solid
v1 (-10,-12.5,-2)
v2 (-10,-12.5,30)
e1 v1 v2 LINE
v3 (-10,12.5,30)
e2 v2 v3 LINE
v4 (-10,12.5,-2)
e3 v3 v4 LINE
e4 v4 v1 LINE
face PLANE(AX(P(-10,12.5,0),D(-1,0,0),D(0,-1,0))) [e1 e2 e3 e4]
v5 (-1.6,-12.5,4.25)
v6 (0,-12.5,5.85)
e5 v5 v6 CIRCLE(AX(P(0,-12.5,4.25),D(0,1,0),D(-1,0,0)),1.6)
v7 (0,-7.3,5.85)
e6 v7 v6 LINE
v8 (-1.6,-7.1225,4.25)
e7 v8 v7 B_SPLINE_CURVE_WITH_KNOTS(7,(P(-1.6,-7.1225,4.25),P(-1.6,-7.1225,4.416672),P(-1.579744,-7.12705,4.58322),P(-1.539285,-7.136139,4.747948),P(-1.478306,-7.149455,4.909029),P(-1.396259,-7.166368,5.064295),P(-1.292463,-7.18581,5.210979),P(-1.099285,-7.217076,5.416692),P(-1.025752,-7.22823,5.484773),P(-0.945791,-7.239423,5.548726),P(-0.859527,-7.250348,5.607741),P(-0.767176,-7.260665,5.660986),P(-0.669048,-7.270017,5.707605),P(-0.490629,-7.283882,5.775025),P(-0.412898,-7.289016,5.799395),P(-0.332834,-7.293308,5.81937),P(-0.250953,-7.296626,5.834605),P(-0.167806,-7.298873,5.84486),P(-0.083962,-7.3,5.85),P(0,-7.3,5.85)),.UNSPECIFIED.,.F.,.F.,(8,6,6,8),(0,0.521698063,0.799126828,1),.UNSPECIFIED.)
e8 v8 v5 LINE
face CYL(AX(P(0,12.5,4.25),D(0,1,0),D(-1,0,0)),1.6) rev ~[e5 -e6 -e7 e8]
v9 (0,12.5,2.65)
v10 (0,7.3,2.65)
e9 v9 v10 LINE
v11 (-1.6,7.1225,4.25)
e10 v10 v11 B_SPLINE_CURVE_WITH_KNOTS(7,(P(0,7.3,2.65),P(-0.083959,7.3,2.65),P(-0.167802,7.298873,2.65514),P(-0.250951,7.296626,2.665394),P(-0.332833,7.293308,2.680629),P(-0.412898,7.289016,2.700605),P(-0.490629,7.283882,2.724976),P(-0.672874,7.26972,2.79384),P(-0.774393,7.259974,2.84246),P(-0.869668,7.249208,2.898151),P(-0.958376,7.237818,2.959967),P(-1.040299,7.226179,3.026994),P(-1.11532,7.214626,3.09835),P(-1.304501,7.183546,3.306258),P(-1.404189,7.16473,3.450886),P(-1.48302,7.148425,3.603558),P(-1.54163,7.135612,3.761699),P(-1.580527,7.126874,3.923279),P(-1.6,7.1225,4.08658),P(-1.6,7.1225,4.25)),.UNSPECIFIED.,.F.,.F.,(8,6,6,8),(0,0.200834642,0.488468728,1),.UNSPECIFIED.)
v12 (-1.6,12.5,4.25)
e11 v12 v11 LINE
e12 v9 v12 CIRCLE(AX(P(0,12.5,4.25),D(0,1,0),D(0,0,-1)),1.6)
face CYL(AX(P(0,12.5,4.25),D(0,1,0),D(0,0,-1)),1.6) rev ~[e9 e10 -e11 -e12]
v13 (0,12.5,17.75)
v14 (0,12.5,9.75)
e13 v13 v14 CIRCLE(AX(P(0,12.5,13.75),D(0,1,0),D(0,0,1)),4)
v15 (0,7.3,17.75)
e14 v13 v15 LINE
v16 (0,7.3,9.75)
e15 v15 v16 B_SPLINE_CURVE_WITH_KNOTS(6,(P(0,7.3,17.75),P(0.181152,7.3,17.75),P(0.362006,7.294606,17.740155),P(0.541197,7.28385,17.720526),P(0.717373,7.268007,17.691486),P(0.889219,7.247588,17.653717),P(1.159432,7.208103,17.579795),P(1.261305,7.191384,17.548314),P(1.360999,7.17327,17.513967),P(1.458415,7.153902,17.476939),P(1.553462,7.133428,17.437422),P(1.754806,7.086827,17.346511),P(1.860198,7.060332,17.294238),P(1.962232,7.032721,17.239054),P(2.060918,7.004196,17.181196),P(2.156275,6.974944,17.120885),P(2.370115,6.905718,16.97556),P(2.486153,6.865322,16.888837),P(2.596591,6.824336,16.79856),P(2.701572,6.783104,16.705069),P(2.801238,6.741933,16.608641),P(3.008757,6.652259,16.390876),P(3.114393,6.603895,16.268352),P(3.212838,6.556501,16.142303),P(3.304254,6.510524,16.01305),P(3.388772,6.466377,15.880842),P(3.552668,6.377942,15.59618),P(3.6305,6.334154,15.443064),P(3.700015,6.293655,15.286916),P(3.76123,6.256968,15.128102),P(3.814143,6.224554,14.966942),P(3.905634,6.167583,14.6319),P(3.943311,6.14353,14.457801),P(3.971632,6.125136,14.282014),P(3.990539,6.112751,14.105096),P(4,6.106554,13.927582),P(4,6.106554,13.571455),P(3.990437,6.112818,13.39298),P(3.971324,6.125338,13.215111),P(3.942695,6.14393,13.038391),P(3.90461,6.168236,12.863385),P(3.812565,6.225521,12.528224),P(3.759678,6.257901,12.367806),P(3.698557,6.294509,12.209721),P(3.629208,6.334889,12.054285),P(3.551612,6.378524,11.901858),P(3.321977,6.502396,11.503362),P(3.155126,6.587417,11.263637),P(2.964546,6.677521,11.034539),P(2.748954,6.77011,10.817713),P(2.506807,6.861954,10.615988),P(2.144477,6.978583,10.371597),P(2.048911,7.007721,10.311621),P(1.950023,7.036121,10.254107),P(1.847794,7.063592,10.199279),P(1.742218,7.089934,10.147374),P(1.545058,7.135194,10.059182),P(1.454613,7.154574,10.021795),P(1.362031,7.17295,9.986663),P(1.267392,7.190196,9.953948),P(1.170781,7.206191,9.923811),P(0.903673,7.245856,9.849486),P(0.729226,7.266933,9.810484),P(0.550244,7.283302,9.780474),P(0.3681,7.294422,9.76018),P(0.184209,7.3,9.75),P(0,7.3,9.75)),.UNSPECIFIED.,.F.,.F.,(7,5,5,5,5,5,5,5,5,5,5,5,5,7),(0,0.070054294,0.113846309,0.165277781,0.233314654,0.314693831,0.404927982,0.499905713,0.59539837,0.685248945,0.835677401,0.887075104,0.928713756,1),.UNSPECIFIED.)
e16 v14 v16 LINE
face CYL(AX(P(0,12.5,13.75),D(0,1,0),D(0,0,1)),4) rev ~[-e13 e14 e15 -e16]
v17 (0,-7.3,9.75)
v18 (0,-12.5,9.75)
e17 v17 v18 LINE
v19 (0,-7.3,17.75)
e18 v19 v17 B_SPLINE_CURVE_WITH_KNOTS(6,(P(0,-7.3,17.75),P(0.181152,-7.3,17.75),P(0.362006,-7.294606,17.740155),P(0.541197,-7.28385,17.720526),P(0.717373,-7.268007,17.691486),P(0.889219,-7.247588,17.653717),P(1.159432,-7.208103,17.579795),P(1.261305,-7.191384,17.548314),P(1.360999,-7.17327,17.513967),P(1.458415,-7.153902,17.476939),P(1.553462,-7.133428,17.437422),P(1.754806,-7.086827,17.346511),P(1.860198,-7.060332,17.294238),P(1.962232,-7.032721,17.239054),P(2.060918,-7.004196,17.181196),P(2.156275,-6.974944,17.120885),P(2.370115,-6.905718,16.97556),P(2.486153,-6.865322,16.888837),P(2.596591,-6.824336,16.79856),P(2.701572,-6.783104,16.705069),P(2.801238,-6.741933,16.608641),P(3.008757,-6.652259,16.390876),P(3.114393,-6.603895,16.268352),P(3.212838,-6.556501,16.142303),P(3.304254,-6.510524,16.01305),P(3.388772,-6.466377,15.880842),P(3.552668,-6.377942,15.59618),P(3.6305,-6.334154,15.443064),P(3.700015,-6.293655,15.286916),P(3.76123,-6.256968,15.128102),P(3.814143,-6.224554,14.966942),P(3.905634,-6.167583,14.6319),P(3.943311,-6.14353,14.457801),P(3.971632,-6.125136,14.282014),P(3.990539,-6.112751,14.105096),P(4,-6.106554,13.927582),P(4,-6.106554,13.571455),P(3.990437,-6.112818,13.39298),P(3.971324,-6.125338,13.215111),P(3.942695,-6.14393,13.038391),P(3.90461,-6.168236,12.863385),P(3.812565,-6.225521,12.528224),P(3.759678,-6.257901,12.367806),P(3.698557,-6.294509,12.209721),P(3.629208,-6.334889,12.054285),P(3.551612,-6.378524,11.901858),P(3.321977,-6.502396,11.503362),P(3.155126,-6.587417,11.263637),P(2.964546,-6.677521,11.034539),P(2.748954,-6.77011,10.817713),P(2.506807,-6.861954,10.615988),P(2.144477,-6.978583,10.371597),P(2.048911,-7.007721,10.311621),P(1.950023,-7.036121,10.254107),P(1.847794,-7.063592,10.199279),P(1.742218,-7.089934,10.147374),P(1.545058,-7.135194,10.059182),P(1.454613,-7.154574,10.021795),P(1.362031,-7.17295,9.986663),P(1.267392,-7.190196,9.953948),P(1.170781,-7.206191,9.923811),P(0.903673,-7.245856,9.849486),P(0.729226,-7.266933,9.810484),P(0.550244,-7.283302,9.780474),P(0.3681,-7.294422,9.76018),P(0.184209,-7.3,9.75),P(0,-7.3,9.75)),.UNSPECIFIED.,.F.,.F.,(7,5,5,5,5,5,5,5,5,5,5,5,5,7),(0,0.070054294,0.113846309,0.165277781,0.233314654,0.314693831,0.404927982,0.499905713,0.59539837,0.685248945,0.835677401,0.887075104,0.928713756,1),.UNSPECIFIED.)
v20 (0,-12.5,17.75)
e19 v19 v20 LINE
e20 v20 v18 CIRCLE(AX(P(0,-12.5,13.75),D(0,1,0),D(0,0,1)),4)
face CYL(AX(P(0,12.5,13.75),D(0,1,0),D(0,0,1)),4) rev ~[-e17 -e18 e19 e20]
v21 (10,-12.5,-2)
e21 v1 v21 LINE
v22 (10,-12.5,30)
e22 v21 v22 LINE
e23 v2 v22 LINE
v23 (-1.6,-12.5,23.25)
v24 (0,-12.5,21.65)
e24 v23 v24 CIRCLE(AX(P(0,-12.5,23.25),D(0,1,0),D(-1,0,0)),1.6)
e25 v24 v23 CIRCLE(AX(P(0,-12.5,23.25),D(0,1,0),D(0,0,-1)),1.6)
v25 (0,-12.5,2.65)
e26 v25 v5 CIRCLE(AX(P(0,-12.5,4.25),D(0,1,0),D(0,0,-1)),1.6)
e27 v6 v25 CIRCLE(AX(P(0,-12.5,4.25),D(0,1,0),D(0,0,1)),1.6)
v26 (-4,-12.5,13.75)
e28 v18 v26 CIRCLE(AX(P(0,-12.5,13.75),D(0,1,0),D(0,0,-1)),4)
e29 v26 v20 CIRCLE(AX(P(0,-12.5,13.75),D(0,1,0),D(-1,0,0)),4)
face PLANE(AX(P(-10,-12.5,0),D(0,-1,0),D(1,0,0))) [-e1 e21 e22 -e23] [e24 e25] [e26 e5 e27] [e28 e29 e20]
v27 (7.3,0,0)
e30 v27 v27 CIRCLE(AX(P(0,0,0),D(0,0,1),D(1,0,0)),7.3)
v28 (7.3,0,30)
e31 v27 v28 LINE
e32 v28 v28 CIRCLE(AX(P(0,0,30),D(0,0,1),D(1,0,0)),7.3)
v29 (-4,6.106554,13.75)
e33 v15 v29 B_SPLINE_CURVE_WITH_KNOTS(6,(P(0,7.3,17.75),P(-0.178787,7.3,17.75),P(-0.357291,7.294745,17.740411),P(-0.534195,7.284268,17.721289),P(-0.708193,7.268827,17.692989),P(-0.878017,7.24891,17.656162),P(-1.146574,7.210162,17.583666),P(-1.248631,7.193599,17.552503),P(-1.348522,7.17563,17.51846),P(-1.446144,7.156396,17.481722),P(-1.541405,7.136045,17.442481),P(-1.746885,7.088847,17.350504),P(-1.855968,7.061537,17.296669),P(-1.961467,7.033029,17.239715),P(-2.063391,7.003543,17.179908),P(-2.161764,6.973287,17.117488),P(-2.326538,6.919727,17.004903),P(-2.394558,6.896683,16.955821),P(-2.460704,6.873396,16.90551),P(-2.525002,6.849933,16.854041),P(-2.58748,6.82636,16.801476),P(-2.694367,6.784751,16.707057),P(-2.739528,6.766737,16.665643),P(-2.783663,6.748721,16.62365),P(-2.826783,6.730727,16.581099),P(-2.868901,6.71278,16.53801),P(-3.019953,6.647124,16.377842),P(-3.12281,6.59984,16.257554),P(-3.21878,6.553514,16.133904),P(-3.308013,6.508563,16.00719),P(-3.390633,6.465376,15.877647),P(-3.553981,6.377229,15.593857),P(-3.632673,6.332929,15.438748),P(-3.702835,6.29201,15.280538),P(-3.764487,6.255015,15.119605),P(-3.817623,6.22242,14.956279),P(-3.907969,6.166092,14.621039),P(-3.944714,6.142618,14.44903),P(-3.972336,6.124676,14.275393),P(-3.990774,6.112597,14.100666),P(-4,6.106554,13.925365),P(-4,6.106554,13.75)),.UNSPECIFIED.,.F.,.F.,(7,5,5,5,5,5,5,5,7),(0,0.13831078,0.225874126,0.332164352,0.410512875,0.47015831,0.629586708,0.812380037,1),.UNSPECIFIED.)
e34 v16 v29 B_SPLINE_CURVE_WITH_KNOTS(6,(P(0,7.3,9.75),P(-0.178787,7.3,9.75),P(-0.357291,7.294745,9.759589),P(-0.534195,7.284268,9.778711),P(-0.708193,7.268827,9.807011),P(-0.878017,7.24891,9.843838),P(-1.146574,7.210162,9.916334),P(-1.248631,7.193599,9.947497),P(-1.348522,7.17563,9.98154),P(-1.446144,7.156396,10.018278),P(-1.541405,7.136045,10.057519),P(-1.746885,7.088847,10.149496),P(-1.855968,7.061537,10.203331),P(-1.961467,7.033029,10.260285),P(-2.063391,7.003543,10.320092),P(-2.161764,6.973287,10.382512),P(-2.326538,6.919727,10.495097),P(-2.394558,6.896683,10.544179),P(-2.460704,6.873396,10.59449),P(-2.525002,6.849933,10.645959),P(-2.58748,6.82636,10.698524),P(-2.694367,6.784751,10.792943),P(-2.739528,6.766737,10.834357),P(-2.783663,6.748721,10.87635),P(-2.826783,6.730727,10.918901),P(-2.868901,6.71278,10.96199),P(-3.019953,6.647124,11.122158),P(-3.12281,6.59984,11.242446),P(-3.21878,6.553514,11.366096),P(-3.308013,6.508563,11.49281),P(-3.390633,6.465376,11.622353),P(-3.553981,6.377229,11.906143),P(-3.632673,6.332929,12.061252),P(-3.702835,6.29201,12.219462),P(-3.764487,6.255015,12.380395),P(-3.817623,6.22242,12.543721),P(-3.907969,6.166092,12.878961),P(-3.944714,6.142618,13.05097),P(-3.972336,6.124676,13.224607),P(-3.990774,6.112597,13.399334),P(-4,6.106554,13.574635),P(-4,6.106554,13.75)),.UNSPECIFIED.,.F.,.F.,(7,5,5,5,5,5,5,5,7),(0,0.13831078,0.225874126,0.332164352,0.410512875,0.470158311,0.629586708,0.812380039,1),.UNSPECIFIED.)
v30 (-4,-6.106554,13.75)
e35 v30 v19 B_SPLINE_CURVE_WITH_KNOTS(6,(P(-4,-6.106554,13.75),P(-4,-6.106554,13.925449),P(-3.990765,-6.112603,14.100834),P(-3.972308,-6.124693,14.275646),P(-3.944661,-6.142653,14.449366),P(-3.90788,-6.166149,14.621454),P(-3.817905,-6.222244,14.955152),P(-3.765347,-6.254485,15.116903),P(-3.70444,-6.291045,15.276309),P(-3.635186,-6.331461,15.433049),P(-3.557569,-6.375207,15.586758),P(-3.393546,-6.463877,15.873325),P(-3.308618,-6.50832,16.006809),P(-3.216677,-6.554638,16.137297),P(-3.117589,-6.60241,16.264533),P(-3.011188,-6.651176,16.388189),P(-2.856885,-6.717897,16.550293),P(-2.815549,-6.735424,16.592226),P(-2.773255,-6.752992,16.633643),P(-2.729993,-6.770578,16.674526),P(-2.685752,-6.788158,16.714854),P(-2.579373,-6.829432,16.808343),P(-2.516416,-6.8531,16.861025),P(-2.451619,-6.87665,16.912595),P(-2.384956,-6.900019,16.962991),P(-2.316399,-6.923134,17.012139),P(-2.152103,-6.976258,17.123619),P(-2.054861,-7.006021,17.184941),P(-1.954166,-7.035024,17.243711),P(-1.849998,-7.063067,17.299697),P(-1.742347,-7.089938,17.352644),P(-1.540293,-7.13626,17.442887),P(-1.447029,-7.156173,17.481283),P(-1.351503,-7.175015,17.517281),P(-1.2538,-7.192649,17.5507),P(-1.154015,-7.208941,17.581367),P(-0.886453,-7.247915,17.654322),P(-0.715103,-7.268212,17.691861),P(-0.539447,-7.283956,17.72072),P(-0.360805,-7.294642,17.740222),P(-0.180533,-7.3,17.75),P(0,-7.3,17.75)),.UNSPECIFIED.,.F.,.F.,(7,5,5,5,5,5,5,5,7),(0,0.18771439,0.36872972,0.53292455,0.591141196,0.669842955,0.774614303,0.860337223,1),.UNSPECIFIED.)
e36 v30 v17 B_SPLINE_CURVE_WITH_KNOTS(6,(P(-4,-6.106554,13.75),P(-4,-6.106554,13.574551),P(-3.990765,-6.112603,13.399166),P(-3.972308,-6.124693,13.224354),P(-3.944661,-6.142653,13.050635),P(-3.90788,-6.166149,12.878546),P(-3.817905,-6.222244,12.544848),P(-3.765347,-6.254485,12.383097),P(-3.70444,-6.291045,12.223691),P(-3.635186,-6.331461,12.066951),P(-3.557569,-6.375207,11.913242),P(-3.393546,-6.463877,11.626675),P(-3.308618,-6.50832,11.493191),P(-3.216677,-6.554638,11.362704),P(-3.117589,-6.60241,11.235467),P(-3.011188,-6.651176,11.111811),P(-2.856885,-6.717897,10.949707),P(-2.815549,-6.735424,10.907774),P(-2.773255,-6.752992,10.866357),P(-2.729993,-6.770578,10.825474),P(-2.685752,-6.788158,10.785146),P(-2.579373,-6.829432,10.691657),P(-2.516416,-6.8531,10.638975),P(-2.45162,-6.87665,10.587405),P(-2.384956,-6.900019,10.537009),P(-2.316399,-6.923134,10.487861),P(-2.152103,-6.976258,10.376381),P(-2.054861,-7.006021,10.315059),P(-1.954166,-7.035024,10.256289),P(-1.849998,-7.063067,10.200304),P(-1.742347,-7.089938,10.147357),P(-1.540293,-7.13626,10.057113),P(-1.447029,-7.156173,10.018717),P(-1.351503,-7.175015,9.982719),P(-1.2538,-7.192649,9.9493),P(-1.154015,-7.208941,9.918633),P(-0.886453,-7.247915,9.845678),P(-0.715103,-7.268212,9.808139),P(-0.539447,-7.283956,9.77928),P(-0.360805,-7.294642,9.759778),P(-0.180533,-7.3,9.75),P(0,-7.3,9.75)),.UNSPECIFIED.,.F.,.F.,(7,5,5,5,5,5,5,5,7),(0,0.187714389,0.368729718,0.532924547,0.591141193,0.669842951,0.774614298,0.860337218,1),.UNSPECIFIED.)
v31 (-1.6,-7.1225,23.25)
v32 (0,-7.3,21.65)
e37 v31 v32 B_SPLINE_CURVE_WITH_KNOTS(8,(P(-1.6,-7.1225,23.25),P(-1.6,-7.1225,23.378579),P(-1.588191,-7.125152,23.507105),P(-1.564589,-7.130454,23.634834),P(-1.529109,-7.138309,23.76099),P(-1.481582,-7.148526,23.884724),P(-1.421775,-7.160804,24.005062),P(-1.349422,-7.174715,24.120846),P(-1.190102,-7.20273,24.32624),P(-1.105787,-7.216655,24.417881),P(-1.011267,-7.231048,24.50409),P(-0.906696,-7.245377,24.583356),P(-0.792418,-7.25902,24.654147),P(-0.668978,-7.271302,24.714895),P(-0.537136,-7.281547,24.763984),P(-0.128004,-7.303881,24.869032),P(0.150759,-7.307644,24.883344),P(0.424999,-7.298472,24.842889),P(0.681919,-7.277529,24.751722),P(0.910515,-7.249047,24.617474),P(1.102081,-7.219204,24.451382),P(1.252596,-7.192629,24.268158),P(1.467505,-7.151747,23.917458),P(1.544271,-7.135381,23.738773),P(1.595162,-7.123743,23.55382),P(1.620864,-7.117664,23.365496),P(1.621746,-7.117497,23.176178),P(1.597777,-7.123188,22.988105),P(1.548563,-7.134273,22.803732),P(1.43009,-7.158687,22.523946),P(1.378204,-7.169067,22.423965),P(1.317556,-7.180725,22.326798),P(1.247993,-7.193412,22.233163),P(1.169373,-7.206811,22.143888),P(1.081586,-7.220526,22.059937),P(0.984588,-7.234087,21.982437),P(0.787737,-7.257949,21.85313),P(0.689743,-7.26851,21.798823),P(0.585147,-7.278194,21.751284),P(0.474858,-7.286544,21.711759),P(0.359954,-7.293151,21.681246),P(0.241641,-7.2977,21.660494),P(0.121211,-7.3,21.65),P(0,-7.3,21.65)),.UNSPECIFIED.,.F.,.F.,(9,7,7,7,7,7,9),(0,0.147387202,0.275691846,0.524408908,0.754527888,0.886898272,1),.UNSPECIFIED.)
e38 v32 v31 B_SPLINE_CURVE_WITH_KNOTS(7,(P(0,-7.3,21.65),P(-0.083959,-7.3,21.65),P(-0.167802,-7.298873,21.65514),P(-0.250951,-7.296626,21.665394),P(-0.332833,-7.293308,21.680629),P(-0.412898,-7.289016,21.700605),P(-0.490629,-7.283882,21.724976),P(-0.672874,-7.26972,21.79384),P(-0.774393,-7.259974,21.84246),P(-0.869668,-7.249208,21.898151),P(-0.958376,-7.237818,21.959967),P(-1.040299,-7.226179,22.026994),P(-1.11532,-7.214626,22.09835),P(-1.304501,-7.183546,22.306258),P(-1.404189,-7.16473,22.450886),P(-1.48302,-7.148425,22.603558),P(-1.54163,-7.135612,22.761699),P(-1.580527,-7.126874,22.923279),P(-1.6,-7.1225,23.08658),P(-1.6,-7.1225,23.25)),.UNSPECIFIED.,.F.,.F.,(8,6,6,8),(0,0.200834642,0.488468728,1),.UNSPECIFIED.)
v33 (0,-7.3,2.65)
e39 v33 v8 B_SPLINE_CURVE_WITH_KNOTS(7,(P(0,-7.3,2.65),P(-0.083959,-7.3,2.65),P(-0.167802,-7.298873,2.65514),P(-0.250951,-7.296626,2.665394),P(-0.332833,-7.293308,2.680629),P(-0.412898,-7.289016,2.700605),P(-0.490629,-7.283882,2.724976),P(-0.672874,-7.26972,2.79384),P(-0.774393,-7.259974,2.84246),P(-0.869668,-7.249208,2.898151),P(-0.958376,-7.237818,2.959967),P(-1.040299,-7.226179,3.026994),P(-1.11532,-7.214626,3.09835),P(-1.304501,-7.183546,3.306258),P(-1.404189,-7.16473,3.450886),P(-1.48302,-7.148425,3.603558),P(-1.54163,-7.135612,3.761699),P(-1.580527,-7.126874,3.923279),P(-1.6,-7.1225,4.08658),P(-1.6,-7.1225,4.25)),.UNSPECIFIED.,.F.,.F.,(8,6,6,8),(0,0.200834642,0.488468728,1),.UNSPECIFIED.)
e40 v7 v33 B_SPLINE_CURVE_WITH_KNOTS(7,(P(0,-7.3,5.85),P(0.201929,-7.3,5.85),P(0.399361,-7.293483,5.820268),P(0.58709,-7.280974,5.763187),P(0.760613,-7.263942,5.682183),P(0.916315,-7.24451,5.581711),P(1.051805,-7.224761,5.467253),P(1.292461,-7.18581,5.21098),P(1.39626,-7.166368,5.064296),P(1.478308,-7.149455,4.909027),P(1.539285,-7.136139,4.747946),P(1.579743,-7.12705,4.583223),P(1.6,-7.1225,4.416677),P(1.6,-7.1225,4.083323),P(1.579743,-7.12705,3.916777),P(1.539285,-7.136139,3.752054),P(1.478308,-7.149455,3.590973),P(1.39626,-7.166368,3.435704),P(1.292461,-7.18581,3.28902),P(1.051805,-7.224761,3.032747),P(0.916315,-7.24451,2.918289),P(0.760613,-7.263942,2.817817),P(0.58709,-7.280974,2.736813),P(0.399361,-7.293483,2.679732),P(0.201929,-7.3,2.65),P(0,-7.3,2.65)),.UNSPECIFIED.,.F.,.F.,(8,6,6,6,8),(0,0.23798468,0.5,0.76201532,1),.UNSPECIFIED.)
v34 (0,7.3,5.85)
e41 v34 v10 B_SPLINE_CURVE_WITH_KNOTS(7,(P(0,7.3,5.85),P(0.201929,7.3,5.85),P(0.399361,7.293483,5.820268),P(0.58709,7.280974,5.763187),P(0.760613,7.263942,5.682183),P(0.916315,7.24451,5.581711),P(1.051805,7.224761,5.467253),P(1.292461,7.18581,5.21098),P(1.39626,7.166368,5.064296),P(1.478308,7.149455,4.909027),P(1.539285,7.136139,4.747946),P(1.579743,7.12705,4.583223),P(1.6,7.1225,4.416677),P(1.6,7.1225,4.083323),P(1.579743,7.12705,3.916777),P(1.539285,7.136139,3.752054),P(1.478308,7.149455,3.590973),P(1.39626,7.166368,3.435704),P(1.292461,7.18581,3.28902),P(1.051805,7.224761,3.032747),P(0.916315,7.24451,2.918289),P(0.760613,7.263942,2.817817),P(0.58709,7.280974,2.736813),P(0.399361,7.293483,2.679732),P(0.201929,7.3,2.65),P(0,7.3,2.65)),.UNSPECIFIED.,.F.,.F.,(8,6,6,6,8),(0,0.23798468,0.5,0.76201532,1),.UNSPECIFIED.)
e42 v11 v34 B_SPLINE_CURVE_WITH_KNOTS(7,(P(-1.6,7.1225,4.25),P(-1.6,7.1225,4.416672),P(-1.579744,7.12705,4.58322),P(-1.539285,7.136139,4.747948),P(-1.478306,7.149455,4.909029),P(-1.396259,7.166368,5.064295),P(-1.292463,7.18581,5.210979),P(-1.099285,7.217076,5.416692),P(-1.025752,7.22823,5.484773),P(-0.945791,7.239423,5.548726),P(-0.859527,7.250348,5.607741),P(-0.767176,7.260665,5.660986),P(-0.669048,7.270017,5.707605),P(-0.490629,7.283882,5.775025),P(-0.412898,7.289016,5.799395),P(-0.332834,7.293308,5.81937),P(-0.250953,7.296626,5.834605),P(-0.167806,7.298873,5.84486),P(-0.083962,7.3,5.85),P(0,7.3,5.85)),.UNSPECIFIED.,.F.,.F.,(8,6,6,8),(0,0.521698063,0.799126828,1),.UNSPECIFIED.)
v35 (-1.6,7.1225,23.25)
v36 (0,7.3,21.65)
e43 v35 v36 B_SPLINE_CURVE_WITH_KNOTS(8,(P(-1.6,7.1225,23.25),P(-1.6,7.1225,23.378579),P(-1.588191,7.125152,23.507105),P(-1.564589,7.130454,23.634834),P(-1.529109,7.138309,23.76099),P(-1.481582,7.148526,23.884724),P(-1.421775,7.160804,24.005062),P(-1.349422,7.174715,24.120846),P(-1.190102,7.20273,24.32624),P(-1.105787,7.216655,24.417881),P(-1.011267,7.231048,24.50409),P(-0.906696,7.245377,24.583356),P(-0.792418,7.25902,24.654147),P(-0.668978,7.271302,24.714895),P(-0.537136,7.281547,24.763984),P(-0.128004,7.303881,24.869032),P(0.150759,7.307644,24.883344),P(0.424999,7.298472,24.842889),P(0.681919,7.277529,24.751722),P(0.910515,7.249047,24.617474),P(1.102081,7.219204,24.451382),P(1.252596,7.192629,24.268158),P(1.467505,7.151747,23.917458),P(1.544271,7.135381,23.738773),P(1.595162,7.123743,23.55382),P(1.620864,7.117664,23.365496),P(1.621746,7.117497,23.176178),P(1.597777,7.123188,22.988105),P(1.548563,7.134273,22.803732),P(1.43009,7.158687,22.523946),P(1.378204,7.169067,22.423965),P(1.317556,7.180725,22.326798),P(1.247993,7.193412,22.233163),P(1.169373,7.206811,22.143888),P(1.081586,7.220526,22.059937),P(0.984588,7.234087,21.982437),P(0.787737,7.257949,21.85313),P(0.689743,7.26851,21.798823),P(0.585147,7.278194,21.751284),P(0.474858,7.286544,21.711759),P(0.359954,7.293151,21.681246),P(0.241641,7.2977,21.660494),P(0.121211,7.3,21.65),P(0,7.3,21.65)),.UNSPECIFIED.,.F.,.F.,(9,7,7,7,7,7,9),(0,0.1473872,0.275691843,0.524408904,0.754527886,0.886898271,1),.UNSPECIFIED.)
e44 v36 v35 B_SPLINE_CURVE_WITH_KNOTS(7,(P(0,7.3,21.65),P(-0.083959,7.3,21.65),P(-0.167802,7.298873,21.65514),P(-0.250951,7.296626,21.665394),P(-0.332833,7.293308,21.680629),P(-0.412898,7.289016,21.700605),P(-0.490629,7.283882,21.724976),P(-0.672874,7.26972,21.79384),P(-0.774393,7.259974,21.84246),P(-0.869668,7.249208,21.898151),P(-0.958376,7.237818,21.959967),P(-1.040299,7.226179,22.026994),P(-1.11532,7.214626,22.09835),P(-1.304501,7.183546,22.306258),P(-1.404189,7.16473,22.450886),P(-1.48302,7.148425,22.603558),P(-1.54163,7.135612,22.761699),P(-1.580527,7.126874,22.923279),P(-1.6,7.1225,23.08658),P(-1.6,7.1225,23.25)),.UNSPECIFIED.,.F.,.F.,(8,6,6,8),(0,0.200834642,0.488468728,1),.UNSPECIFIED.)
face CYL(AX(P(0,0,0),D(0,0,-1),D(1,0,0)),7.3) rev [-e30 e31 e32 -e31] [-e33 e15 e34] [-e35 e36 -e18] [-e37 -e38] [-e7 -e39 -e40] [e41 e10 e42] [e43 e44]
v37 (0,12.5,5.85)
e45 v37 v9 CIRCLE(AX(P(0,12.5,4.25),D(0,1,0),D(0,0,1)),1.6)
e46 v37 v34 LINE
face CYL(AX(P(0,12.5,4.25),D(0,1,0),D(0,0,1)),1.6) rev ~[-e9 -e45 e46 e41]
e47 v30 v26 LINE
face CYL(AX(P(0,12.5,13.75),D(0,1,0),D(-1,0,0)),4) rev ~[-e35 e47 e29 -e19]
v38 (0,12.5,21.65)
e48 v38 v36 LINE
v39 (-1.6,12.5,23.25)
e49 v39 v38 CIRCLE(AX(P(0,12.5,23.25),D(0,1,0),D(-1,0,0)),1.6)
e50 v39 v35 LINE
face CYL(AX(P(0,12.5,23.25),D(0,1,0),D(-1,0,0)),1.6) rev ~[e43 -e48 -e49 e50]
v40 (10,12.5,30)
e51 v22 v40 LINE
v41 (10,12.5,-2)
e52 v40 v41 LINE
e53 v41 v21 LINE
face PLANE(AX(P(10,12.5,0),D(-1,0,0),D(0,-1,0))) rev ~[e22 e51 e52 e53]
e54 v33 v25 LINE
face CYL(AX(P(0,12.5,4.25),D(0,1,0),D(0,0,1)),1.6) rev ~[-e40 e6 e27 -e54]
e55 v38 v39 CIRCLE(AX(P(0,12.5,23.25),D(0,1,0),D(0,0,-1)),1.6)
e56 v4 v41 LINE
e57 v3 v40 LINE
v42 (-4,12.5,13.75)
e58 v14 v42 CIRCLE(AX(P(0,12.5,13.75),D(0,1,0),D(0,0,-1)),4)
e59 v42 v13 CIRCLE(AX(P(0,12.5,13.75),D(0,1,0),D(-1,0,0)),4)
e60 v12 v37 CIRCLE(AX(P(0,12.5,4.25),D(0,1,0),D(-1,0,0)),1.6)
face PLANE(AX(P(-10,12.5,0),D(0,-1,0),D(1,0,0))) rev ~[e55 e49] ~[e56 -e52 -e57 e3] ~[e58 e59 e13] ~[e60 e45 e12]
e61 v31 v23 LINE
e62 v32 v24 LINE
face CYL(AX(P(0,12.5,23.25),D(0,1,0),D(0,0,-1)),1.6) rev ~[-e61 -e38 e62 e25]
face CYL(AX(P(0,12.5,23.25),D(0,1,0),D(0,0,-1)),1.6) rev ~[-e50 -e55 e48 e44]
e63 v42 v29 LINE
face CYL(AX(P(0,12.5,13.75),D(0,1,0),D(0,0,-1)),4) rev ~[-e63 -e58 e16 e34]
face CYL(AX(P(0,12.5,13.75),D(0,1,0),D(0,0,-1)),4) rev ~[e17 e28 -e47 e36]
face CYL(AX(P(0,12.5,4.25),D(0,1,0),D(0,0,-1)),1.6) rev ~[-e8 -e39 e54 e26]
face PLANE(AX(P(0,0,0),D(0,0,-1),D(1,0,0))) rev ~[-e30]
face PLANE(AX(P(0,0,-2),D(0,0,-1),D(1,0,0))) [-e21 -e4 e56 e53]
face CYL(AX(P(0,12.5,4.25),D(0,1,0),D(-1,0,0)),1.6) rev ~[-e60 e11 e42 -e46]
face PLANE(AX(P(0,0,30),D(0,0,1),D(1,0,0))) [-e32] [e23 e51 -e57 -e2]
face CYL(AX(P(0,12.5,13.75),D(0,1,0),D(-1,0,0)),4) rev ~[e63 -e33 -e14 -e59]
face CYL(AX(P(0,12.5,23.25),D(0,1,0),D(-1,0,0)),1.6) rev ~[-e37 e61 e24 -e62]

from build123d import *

# Parameters (mm, degrees)
F0_W     = 20
F0_H     = 25
F0_R     = 7.3
F1_DEPTH = 30
F4_DEPTH = 25.001
F5_W     = 20
F5_H     = 25
F6_DEPTH = 2


with BuildPart() as f1:
    # F0 (on Top) → F1 (new body)
    with BuildSketch(Plane.XY):
        Rectangle(F0_W, F0_H)
        Circle(F0_R, mode=Mode.SUBTRACT)
    extrude(amount=F1_DEPTH)

    # F3 (on face) → F4 (cut, through all)
    with BuildSketch(Plane(origin=(0, 12.5, 0), x_dir=(-1, 0, 0), z_dir=(0, 1, 0))):
        with BuildLine():
            ThreePointArc((0, 5.85), (-1.6, 4.25), (0, 2.65))
            Line((0, 2.65), (0, 4.25))
            Line((0, 4.25), (0, 5.85))
        make_face()
        with BuildLine():
            ThreePointArc((1.6, 23.25), (-1.1313708499, 24.3813708499), (0, 21.65))
            ThreePointArc((0, 21.65), (1.1313708499, 22.1186291501), (1.6, 23.25))
        make_face()
        with BuildLine():
            ThreePointArc((0, 17.75), (-4, 13.75), (0, 9.75))
            Line((0, 9.75), (0, 17.75))
        make_face()
        with BuildLine():
            Line((0, 17.75), (0, 9.75))
            ThreePointArc((0, 9.75), (2.8284271247, 10.9215728753), (4, 13.75))
            ThreePointArc((4, 13.75), (2.8284271247, 16.5784271247), (0, 17.75))
        make_face()
        with BuildLine():
            Line((0, 4.25), (0, 2.65))
            ThreePointArc((0, 2.65), (1.1313708499, 3.1186291501), (1.6, 4.25))
            ThreePointArc((1.6, 4.25), (1.1313708499, 5.3813708499), (0, 5.85))
            Line((0, 5.85), (0, 4.25))
        make_face()
    extrude(amount=-F4_DEPTH, mode=Mode.SUBTRACT)

    # F5 (on face) → F6 (join)
    with BuildSketch(Plane(origin=(0, 0, 0), x_dir=(1, 0, 0), z_dir=(0, 0, -1))):
        Rectangle(F5_W, F5_H)
    extrude(amount=F6_DEPTH)


solid = f1.part
